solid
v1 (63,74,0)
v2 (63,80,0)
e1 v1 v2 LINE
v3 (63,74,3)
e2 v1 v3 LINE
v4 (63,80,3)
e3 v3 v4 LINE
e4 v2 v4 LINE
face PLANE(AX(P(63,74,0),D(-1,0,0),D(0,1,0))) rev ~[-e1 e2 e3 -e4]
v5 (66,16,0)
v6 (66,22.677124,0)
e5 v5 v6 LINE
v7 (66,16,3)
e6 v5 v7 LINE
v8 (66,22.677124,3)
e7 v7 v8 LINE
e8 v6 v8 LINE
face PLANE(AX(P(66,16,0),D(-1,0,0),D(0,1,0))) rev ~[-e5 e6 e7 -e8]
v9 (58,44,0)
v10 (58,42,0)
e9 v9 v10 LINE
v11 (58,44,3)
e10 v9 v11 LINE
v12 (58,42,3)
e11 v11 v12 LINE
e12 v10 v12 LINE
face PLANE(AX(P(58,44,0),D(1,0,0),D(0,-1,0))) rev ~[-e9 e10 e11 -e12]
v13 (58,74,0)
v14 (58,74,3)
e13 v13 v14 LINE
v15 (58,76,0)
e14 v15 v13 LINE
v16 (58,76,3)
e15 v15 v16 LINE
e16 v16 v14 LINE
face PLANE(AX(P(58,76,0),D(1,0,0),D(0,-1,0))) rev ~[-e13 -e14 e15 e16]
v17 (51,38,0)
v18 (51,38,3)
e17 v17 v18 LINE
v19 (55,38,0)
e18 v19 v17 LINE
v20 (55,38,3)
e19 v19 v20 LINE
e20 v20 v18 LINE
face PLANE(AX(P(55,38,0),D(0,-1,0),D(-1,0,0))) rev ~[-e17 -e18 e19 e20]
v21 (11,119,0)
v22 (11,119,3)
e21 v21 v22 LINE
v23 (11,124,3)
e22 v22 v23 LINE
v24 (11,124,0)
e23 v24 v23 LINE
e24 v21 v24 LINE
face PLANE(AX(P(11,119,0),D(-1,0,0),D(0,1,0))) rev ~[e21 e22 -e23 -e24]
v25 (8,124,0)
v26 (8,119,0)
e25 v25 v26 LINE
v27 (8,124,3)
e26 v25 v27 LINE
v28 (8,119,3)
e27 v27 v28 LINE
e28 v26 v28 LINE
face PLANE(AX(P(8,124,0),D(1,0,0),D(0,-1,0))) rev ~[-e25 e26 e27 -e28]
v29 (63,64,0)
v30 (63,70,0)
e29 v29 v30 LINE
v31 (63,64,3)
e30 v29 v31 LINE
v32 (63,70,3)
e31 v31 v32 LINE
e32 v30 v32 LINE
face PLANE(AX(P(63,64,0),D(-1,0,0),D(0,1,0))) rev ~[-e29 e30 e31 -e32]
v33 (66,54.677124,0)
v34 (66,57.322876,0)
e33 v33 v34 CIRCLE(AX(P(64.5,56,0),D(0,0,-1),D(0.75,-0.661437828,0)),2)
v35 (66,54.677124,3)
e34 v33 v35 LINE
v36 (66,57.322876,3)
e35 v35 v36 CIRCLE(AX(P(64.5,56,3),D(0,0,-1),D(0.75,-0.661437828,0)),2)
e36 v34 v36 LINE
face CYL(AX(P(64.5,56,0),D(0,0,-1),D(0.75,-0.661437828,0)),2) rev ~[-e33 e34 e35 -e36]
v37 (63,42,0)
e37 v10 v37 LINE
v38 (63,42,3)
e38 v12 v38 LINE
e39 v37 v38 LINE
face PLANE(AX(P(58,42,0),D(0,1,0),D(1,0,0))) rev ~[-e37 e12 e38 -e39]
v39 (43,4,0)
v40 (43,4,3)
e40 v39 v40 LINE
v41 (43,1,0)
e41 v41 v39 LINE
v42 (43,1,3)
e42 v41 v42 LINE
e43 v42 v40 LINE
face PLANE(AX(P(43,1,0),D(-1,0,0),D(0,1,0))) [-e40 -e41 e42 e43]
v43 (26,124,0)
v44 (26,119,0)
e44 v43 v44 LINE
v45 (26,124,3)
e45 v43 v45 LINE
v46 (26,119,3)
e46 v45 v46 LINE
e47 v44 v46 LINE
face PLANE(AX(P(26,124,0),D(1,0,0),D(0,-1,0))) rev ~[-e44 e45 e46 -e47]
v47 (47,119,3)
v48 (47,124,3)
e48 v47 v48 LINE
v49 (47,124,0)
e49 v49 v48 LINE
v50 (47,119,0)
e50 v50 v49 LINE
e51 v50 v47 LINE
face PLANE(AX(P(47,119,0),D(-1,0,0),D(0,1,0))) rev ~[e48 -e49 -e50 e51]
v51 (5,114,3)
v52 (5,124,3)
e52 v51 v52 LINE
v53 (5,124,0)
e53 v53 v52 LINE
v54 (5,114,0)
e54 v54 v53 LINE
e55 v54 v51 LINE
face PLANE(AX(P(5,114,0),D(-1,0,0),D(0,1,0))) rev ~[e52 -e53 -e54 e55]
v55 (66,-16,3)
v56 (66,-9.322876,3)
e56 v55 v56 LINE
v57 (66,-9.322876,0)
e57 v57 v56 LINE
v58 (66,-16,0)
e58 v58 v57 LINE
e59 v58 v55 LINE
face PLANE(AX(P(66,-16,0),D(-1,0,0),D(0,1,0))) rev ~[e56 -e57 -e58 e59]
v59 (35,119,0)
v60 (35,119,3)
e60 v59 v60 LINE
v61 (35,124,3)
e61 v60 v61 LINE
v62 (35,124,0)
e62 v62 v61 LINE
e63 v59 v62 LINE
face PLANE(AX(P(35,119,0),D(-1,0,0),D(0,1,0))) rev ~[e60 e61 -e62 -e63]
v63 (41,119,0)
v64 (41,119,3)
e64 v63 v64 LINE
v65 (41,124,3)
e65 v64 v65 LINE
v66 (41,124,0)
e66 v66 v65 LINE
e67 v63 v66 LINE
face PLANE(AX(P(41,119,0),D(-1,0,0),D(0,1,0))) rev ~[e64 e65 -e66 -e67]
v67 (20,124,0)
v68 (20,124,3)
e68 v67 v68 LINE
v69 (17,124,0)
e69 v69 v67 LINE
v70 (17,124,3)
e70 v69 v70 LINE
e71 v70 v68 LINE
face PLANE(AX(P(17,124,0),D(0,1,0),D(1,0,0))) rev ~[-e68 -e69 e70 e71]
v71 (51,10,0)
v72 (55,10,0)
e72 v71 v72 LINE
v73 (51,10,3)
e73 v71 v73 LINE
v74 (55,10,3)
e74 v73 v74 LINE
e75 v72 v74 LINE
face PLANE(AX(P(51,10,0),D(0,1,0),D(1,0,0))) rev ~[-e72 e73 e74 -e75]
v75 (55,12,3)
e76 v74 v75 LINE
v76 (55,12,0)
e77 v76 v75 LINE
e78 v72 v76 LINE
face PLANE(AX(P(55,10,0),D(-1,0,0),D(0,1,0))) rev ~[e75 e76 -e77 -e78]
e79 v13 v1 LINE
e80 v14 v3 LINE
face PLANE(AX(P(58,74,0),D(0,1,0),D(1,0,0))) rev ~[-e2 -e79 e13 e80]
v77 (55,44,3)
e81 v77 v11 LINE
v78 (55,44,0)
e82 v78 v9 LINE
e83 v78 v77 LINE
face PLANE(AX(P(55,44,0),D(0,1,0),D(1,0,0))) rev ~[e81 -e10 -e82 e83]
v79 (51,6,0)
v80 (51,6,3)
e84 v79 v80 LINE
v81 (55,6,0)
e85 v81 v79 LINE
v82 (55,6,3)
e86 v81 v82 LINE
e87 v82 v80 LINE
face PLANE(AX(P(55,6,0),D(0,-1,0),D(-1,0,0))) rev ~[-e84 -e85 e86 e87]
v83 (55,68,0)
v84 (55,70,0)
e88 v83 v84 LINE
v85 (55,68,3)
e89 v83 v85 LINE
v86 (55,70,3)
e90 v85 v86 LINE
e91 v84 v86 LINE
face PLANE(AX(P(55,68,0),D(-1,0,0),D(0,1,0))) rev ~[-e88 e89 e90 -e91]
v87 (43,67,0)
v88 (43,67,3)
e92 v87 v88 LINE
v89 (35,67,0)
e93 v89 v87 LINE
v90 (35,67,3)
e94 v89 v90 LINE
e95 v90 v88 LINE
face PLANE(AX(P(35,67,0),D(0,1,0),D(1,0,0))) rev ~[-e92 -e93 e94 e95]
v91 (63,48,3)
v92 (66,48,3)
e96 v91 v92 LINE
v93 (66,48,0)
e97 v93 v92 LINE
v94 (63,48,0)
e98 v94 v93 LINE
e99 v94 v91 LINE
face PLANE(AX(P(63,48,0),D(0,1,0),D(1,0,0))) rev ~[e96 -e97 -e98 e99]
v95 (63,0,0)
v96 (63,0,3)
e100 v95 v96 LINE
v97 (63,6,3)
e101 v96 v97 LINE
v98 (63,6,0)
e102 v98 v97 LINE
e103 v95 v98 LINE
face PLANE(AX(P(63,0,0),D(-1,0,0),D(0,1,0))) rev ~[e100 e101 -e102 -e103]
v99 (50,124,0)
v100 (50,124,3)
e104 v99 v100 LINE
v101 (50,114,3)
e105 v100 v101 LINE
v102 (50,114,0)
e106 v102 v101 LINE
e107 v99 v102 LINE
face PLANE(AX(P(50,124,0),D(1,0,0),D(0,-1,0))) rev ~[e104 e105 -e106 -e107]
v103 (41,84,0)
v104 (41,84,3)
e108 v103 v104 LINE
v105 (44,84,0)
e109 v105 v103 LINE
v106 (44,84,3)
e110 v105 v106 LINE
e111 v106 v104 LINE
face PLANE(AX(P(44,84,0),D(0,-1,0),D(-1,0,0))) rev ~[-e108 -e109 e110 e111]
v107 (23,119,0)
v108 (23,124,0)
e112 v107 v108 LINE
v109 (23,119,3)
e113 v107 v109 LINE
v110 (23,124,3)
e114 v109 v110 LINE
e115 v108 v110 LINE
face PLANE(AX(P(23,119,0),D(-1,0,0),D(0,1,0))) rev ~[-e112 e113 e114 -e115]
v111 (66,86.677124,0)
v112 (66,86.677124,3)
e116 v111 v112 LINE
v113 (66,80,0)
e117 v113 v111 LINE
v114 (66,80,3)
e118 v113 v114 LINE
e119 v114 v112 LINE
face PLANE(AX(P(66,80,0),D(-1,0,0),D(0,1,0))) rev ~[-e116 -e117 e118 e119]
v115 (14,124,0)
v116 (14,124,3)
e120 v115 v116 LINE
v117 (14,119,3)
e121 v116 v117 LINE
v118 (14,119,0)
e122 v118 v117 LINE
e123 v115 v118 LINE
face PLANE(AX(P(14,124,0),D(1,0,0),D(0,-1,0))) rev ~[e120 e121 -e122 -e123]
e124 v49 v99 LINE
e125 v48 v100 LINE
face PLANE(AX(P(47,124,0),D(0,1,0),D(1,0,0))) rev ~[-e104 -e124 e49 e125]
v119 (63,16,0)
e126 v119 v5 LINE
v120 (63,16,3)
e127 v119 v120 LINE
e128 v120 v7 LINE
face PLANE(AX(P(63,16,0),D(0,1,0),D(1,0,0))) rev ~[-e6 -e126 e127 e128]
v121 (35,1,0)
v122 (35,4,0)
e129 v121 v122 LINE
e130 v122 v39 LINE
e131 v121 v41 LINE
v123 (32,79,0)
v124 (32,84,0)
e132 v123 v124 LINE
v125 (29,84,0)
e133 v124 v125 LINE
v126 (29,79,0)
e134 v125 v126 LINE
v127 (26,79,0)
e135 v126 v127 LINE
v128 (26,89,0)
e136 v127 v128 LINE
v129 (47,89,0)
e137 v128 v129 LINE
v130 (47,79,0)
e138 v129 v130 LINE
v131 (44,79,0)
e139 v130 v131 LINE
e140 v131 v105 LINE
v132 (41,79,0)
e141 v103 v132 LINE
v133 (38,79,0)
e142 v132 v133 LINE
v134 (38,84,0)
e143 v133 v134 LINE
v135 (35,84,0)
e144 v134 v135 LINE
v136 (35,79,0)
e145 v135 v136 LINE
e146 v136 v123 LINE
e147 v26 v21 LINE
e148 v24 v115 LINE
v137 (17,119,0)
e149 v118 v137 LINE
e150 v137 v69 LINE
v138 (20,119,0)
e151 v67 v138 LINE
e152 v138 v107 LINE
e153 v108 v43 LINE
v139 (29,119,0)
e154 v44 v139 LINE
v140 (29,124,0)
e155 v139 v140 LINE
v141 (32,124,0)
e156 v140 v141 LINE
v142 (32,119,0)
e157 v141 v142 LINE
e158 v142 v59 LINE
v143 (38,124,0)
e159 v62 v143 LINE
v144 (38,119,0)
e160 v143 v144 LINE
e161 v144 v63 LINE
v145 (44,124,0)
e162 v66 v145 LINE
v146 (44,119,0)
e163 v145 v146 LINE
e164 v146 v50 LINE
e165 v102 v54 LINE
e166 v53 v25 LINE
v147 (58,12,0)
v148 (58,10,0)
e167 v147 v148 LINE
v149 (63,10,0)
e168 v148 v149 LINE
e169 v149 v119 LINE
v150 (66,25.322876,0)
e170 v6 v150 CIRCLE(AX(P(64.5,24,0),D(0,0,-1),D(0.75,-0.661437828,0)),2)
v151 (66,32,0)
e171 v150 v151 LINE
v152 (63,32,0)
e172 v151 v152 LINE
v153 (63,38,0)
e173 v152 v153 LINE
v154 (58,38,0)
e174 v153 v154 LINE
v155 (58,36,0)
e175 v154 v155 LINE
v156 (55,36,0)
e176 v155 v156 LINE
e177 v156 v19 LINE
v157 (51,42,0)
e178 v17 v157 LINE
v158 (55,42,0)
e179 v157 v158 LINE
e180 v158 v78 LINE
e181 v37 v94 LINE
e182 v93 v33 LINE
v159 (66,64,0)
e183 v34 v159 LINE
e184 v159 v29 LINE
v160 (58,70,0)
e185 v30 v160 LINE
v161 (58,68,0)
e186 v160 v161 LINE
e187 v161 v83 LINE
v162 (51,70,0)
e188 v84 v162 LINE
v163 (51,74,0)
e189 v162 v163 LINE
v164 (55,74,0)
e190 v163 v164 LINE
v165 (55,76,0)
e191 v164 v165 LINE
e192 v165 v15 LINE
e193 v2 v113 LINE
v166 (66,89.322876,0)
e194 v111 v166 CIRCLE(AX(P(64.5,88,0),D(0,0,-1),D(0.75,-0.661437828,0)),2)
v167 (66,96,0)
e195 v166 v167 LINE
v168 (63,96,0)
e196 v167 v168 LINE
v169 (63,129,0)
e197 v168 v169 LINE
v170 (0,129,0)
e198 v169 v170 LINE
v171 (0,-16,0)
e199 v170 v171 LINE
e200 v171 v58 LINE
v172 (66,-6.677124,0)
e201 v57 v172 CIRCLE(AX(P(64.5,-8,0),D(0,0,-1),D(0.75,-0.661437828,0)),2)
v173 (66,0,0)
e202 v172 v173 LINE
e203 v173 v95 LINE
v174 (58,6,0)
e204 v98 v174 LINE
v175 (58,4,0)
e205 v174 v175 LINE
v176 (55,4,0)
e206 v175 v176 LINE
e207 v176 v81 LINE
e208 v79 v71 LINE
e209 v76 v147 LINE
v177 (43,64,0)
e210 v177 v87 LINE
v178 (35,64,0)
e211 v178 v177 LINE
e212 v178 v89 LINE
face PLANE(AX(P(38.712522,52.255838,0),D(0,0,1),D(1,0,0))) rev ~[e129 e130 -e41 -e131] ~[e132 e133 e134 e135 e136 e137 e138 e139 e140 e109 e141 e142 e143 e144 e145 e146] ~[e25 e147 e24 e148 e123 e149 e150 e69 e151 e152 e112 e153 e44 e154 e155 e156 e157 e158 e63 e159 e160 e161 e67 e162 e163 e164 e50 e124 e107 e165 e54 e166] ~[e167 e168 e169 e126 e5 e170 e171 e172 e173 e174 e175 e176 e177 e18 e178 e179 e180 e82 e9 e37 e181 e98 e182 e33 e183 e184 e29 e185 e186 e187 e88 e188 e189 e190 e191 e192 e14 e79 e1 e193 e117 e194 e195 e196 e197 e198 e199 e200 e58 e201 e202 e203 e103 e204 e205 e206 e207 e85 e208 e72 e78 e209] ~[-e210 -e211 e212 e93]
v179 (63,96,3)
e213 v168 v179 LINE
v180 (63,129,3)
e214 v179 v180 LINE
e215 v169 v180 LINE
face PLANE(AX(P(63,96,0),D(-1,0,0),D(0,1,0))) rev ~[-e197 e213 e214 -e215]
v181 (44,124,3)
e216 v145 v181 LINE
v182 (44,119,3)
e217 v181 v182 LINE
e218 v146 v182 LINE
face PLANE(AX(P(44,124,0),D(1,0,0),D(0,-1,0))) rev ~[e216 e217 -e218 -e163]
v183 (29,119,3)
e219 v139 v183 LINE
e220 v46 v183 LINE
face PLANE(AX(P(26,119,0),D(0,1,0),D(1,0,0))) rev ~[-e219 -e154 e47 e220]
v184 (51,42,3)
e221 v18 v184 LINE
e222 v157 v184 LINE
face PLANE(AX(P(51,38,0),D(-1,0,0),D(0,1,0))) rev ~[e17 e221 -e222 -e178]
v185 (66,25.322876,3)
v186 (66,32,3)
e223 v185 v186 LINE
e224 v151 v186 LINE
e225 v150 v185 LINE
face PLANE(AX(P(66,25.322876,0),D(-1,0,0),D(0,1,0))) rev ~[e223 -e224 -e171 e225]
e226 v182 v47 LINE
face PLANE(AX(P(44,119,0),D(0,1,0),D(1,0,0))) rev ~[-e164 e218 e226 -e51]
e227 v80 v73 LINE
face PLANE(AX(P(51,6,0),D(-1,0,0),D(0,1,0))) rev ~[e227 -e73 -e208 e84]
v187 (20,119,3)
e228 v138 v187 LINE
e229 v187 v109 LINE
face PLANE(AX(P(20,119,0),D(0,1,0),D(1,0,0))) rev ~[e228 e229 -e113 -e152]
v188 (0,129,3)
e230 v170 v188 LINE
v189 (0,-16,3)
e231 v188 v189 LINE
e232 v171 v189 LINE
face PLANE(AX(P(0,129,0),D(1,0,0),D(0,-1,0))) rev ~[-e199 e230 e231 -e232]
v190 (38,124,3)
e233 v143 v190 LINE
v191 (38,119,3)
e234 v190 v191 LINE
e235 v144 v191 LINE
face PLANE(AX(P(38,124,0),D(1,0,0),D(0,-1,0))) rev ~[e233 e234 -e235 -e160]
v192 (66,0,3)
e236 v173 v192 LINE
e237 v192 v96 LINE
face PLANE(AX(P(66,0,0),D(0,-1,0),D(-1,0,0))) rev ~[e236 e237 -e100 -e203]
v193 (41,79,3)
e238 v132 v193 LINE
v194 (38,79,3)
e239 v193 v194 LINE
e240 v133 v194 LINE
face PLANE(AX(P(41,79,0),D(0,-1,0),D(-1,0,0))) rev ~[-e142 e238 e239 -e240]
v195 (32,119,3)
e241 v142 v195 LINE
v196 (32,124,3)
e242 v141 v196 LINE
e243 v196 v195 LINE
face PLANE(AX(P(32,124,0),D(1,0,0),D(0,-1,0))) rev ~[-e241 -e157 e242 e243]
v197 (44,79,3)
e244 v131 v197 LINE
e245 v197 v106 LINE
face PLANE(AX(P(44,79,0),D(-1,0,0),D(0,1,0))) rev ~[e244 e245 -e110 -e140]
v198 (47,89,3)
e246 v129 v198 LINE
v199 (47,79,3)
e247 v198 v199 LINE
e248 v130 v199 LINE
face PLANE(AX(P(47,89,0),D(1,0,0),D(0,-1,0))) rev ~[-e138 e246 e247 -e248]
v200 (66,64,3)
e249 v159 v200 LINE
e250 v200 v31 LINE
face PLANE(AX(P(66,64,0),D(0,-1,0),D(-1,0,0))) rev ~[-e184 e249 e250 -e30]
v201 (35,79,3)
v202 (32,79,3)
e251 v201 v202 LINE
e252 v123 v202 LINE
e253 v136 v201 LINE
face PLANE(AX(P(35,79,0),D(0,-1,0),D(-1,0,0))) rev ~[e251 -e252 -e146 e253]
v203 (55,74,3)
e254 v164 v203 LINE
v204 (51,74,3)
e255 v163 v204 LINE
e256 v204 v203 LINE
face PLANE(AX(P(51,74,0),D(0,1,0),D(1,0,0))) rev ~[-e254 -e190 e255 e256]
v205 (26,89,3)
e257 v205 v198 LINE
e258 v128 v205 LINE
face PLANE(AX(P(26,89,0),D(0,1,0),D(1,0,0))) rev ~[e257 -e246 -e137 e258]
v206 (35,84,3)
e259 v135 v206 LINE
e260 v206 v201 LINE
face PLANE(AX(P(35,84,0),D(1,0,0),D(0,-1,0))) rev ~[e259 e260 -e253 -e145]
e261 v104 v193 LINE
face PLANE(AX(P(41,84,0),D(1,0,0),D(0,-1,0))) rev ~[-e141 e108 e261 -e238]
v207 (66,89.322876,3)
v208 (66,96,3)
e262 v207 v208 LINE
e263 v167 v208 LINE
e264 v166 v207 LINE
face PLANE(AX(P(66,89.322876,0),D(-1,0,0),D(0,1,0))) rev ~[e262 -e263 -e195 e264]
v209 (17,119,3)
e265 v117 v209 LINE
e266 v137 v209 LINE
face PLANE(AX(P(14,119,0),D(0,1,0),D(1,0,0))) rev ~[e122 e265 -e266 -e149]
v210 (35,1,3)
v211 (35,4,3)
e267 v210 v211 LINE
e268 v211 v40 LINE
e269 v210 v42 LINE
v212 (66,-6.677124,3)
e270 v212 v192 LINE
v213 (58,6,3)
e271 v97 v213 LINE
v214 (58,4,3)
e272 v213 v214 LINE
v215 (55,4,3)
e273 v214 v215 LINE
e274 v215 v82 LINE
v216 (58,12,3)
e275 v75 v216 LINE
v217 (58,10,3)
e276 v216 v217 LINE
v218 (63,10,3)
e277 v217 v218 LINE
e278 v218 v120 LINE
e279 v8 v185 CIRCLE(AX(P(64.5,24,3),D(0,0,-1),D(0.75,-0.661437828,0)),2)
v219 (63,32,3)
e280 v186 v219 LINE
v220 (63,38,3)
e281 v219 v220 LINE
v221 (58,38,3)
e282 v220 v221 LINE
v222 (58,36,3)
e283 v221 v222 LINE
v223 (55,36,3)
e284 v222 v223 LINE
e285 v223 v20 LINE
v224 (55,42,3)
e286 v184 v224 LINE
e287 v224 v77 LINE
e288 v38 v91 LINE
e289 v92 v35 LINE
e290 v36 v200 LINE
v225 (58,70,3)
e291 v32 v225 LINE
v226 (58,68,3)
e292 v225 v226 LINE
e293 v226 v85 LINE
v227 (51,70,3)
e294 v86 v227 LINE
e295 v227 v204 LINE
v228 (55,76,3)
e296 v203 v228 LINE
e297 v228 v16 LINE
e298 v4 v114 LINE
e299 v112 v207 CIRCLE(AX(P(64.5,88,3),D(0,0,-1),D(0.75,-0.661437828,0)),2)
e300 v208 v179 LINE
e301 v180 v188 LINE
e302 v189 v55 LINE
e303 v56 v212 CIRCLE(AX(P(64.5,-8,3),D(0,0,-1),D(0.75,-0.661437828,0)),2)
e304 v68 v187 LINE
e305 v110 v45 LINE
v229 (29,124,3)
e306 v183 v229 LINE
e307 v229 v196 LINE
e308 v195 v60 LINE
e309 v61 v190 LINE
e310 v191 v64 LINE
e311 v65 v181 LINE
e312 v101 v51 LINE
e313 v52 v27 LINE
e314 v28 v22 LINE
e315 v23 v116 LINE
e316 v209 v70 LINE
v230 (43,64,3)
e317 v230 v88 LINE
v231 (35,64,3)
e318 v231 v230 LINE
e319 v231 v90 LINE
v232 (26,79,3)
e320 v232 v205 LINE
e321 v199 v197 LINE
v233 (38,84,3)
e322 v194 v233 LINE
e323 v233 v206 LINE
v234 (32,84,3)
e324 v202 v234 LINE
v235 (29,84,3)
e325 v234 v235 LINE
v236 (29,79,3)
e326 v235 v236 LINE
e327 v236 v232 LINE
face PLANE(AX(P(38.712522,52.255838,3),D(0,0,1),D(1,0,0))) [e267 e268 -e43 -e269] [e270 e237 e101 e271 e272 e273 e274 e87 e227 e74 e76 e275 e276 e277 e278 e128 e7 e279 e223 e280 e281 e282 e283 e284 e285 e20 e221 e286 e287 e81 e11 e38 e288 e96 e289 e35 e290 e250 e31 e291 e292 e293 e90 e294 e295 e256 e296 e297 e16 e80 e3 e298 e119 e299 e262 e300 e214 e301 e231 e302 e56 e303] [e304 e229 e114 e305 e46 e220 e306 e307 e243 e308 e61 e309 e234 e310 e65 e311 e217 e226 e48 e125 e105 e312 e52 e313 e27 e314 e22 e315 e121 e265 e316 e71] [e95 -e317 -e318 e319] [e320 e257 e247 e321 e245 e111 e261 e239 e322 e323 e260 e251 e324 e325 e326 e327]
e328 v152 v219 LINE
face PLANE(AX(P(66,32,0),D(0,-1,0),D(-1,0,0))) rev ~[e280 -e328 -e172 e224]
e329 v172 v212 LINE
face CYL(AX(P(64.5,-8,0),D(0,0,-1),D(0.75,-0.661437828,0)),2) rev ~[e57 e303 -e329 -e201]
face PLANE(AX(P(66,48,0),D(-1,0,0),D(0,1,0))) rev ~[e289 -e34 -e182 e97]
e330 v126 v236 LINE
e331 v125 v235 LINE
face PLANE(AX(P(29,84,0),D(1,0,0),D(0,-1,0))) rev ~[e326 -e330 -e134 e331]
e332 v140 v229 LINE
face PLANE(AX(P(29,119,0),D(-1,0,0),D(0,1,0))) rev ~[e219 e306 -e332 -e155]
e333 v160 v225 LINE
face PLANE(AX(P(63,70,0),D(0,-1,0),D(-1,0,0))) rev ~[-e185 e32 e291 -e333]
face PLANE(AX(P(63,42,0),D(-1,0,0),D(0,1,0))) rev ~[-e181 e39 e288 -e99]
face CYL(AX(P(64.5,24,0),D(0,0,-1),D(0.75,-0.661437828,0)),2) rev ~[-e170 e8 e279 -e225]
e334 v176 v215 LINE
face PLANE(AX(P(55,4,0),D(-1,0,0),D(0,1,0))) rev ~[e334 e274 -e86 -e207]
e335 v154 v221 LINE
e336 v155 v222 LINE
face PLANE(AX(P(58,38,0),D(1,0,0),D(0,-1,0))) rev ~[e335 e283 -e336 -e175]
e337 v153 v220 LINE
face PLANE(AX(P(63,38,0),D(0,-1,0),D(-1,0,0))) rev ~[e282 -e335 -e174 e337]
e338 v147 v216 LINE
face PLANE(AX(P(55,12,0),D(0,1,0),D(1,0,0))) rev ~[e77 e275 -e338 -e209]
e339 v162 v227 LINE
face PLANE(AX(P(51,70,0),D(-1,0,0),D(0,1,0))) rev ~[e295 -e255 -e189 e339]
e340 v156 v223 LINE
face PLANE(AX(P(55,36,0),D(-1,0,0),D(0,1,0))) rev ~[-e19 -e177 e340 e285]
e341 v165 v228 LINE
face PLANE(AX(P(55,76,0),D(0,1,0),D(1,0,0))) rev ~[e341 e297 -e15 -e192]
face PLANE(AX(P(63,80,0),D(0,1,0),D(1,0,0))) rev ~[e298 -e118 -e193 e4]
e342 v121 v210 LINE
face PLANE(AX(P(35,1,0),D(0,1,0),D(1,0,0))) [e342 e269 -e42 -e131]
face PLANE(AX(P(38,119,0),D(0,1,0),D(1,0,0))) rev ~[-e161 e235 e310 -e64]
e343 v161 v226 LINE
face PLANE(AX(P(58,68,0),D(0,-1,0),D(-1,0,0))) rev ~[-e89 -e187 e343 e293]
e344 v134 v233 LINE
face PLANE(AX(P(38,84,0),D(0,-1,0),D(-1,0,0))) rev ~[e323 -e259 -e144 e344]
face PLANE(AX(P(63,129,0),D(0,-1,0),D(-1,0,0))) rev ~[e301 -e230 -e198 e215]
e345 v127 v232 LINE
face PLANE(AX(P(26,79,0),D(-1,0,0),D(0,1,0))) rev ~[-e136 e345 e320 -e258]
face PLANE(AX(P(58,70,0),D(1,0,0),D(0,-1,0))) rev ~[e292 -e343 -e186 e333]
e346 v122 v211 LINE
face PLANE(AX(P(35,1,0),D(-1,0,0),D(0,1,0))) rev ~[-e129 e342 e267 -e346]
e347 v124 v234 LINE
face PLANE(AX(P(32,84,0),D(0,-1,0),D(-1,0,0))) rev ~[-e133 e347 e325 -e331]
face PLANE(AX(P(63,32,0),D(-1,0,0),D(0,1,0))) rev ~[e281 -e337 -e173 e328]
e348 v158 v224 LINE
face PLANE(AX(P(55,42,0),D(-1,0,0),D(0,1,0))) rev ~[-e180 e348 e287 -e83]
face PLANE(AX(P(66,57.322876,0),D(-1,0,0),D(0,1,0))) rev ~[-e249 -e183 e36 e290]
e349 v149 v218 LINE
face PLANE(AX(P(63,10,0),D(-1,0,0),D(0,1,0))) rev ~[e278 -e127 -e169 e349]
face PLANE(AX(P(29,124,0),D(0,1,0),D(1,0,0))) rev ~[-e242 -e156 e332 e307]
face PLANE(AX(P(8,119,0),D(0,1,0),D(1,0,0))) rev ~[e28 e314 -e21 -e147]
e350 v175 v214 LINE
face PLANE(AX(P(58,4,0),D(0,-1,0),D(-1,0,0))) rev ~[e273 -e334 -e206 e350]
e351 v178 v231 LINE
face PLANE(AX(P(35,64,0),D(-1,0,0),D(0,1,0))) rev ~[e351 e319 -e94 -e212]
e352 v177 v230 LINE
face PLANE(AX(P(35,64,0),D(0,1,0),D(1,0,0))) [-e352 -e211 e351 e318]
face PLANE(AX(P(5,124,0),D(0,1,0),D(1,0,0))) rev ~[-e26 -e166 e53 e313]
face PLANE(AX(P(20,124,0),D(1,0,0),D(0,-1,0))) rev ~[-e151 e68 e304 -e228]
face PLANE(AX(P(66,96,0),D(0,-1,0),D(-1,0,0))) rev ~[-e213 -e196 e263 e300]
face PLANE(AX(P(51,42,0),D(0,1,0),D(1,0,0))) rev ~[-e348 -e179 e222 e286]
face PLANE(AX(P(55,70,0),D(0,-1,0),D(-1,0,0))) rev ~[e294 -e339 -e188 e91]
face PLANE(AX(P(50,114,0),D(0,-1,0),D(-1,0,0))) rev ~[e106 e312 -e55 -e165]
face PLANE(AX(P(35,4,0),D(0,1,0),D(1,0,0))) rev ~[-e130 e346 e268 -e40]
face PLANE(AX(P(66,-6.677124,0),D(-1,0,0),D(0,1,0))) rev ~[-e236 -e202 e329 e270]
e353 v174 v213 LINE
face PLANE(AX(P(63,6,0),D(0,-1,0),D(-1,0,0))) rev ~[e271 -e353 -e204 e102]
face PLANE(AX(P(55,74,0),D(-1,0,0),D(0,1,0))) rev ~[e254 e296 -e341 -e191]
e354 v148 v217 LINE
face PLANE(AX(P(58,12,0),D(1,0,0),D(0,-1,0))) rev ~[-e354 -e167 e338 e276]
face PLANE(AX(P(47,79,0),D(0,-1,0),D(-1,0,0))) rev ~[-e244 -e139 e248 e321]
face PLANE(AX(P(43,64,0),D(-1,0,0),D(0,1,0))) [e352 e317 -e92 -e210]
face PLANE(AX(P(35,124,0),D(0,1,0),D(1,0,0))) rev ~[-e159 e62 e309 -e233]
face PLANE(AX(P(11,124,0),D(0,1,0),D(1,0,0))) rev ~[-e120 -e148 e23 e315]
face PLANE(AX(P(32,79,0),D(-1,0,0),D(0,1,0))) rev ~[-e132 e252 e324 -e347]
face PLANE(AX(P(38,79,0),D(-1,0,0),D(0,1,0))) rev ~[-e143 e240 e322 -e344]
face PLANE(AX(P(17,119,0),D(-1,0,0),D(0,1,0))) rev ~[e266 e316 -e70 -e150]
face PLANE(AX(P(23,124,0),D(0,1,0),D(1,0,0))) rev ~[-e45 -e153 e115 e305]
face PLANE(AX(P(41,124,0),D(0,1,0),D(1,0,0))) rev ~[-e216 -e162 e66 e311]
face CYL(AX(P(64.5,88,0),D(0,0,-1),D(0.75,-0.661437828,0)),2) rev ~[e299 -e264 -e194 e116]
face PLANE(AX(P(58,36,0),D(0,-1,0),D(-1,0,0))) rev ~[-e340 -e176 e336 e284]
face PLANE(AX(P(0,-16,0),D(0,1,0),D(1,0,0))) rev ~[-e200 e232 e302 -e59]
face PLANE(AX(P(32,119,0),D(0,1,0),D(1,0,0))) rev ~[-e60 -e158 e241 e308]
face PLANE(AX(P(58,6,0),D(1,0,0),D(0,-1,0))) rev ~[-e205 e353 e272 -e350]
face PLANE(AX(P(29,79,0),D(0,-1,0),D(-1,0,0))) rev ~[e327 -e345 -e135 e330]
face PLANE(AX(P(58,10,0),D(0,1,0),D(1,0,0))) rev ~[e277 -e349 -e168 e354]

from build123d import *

# Parameters (mm, degrees)
SKETCH_1_W      = 8
SKETCH_1_H      = 3
EXTRUDE_1_DEPTH = 3


with BuildPart() as part:
    # 草图1 → 凸台-拉伸1 (new body)
    with BuildSketch(Plane.XY):
        with BuildLine():
            Line((63, 10), (63, 16))
            Line((63, 16), (66, 16))
            Line((66, 16), (66, 22.677124344))
            ThreePointArc((66, 22.677124344), (62.5, 24), (66, 25.322875656))
            Line((66, 25.322875656), (66, 32))
            Line((66, 32), (63, 32))
            Line((63, 32), (63, 38))
            Line((63, 38), (58, 38))
            Line((58, 38), (58, 36))
            Line((58, 36), (55, 36))
            Line((55, 36), (55, 38))
            Line((55, 38), (51, 38))
            Line((51, 38), (51, 42))
            Line((51, 42), (55, 42))
            Line((55, 42), (55, 44))
            Line((55, 44), (58, 44))
            Line((58, 44), (58, 42))
            Line((58, 42), (63, 42))
            Line((63, 42), (63, 48))
            Line((63, 48), (66, 48))
            Line((66, 48), (66, 54.677124344))
            ThreePointArc((66, 54.677124344), (62.5, 56), (66, 57.322875656))
            Line((66, 57.322875656), (66, 64))
            Line((66, 64), (63, 64))
            Line((63, 64), (63, 70))
            Line((63, 70), (58, 70))
            Line((58, 70), (58, 68))
            Line((58, 68), (55, 68))
            Line((55, 68), (55, 70))
            Line((55, 70), (51, 70))
            Line((51, 70), (51, 74))
            Line((51, 74), (55, 74))
            Line((55, 74), (55, 76))
            Line((55, 76), (58, 76))
            Line((58, 76), (58, 74))
            Line((58, 74), (63, 74))
            Line((63, 74), (63, 80))
            Line((63, 80), (66, 80))
            Line((66, 80), (66, 86.677124344))
            ThreePointArc((66, 86.677124344), (62.5, 88), (66, 89.322875656))
            Line((66, 89.322875656), (66, 96))
            Line((66, 96), (63, 96))
            Line((63, 96), (63, 129))
            Line((63, 129), (0, 129))
            Line((0, 129), (0, 0))
            Line((0, 0), (0, -16))
            Line((0, -16), (66, -16))
            Line((66, -16), (66, -9.322875656))
            ThreePointArc((66, -9.322875656), (62.5, -8), (66, -6.677124344))
            Line((66, -6.677124344), (66, 0))
            Line((66, 0), (63, 0))
            Line((63, 0), (63, 6))
            Line((63, 6), (58, 6))
            Line((58, 6), (58, 4))
            Line((58, 4), (55, 4))
            Line((55, 4), (55, 6))
            Line((55, 6), (51, 6))
            Line((51, 6), (51, 10))
            Line((51, 10), (55, 10))
            Line((55, 10), (55, 12))
            Line((55, 12), (58, 12))
            Line((58, 12), (58, 10))
            Line((58, 10), (63, 10))
        make_face()
        with Locations((39, 2.5)):
            Rectangle(SKETCH_1_W, SKETCH_1_H, mode=Mode.SUBTRACT)
        with Locations((39, 65.5)):
            Rectangle(SKETCH_1_W, SKETCH_1_H, mode=Mode.SUBTRACT)
        Polygon((47, 89), (47, 84), (47, 79), (44, 79), (44, 84), (41, 84), (41, 79), (38, 79), (38, 84), (35, 84), (35, 79), (32, 79), (32, 84), (29, 84), (29, 79), (26, 79), (26, 89), (32, 89), align=None, mode=Mode.SUBTRACT)
        Polygon((5, 114), (5, 124), (8, 124), (8, 119), (11, 119), (11, 124), (14, 124), (14, 119), (17, 119), (17, 124), (20, 124), (20, 119), (23, 119), (23, 124), (26, 124), (26, 119), (29, 119), (29, 124), (32, 124), (32, 119), (35, 119), (35, 124), (38, 124), (38, 119), (41, 119), (41, 124), (44, 124), (44, 119), (47, 119), (47, 124), (50, 124), (50, 114), align=None, mode=Mode.SUBTRACT)
    extrude(amount=EXTRUDE_1_DEPTH)


solid = part.part
